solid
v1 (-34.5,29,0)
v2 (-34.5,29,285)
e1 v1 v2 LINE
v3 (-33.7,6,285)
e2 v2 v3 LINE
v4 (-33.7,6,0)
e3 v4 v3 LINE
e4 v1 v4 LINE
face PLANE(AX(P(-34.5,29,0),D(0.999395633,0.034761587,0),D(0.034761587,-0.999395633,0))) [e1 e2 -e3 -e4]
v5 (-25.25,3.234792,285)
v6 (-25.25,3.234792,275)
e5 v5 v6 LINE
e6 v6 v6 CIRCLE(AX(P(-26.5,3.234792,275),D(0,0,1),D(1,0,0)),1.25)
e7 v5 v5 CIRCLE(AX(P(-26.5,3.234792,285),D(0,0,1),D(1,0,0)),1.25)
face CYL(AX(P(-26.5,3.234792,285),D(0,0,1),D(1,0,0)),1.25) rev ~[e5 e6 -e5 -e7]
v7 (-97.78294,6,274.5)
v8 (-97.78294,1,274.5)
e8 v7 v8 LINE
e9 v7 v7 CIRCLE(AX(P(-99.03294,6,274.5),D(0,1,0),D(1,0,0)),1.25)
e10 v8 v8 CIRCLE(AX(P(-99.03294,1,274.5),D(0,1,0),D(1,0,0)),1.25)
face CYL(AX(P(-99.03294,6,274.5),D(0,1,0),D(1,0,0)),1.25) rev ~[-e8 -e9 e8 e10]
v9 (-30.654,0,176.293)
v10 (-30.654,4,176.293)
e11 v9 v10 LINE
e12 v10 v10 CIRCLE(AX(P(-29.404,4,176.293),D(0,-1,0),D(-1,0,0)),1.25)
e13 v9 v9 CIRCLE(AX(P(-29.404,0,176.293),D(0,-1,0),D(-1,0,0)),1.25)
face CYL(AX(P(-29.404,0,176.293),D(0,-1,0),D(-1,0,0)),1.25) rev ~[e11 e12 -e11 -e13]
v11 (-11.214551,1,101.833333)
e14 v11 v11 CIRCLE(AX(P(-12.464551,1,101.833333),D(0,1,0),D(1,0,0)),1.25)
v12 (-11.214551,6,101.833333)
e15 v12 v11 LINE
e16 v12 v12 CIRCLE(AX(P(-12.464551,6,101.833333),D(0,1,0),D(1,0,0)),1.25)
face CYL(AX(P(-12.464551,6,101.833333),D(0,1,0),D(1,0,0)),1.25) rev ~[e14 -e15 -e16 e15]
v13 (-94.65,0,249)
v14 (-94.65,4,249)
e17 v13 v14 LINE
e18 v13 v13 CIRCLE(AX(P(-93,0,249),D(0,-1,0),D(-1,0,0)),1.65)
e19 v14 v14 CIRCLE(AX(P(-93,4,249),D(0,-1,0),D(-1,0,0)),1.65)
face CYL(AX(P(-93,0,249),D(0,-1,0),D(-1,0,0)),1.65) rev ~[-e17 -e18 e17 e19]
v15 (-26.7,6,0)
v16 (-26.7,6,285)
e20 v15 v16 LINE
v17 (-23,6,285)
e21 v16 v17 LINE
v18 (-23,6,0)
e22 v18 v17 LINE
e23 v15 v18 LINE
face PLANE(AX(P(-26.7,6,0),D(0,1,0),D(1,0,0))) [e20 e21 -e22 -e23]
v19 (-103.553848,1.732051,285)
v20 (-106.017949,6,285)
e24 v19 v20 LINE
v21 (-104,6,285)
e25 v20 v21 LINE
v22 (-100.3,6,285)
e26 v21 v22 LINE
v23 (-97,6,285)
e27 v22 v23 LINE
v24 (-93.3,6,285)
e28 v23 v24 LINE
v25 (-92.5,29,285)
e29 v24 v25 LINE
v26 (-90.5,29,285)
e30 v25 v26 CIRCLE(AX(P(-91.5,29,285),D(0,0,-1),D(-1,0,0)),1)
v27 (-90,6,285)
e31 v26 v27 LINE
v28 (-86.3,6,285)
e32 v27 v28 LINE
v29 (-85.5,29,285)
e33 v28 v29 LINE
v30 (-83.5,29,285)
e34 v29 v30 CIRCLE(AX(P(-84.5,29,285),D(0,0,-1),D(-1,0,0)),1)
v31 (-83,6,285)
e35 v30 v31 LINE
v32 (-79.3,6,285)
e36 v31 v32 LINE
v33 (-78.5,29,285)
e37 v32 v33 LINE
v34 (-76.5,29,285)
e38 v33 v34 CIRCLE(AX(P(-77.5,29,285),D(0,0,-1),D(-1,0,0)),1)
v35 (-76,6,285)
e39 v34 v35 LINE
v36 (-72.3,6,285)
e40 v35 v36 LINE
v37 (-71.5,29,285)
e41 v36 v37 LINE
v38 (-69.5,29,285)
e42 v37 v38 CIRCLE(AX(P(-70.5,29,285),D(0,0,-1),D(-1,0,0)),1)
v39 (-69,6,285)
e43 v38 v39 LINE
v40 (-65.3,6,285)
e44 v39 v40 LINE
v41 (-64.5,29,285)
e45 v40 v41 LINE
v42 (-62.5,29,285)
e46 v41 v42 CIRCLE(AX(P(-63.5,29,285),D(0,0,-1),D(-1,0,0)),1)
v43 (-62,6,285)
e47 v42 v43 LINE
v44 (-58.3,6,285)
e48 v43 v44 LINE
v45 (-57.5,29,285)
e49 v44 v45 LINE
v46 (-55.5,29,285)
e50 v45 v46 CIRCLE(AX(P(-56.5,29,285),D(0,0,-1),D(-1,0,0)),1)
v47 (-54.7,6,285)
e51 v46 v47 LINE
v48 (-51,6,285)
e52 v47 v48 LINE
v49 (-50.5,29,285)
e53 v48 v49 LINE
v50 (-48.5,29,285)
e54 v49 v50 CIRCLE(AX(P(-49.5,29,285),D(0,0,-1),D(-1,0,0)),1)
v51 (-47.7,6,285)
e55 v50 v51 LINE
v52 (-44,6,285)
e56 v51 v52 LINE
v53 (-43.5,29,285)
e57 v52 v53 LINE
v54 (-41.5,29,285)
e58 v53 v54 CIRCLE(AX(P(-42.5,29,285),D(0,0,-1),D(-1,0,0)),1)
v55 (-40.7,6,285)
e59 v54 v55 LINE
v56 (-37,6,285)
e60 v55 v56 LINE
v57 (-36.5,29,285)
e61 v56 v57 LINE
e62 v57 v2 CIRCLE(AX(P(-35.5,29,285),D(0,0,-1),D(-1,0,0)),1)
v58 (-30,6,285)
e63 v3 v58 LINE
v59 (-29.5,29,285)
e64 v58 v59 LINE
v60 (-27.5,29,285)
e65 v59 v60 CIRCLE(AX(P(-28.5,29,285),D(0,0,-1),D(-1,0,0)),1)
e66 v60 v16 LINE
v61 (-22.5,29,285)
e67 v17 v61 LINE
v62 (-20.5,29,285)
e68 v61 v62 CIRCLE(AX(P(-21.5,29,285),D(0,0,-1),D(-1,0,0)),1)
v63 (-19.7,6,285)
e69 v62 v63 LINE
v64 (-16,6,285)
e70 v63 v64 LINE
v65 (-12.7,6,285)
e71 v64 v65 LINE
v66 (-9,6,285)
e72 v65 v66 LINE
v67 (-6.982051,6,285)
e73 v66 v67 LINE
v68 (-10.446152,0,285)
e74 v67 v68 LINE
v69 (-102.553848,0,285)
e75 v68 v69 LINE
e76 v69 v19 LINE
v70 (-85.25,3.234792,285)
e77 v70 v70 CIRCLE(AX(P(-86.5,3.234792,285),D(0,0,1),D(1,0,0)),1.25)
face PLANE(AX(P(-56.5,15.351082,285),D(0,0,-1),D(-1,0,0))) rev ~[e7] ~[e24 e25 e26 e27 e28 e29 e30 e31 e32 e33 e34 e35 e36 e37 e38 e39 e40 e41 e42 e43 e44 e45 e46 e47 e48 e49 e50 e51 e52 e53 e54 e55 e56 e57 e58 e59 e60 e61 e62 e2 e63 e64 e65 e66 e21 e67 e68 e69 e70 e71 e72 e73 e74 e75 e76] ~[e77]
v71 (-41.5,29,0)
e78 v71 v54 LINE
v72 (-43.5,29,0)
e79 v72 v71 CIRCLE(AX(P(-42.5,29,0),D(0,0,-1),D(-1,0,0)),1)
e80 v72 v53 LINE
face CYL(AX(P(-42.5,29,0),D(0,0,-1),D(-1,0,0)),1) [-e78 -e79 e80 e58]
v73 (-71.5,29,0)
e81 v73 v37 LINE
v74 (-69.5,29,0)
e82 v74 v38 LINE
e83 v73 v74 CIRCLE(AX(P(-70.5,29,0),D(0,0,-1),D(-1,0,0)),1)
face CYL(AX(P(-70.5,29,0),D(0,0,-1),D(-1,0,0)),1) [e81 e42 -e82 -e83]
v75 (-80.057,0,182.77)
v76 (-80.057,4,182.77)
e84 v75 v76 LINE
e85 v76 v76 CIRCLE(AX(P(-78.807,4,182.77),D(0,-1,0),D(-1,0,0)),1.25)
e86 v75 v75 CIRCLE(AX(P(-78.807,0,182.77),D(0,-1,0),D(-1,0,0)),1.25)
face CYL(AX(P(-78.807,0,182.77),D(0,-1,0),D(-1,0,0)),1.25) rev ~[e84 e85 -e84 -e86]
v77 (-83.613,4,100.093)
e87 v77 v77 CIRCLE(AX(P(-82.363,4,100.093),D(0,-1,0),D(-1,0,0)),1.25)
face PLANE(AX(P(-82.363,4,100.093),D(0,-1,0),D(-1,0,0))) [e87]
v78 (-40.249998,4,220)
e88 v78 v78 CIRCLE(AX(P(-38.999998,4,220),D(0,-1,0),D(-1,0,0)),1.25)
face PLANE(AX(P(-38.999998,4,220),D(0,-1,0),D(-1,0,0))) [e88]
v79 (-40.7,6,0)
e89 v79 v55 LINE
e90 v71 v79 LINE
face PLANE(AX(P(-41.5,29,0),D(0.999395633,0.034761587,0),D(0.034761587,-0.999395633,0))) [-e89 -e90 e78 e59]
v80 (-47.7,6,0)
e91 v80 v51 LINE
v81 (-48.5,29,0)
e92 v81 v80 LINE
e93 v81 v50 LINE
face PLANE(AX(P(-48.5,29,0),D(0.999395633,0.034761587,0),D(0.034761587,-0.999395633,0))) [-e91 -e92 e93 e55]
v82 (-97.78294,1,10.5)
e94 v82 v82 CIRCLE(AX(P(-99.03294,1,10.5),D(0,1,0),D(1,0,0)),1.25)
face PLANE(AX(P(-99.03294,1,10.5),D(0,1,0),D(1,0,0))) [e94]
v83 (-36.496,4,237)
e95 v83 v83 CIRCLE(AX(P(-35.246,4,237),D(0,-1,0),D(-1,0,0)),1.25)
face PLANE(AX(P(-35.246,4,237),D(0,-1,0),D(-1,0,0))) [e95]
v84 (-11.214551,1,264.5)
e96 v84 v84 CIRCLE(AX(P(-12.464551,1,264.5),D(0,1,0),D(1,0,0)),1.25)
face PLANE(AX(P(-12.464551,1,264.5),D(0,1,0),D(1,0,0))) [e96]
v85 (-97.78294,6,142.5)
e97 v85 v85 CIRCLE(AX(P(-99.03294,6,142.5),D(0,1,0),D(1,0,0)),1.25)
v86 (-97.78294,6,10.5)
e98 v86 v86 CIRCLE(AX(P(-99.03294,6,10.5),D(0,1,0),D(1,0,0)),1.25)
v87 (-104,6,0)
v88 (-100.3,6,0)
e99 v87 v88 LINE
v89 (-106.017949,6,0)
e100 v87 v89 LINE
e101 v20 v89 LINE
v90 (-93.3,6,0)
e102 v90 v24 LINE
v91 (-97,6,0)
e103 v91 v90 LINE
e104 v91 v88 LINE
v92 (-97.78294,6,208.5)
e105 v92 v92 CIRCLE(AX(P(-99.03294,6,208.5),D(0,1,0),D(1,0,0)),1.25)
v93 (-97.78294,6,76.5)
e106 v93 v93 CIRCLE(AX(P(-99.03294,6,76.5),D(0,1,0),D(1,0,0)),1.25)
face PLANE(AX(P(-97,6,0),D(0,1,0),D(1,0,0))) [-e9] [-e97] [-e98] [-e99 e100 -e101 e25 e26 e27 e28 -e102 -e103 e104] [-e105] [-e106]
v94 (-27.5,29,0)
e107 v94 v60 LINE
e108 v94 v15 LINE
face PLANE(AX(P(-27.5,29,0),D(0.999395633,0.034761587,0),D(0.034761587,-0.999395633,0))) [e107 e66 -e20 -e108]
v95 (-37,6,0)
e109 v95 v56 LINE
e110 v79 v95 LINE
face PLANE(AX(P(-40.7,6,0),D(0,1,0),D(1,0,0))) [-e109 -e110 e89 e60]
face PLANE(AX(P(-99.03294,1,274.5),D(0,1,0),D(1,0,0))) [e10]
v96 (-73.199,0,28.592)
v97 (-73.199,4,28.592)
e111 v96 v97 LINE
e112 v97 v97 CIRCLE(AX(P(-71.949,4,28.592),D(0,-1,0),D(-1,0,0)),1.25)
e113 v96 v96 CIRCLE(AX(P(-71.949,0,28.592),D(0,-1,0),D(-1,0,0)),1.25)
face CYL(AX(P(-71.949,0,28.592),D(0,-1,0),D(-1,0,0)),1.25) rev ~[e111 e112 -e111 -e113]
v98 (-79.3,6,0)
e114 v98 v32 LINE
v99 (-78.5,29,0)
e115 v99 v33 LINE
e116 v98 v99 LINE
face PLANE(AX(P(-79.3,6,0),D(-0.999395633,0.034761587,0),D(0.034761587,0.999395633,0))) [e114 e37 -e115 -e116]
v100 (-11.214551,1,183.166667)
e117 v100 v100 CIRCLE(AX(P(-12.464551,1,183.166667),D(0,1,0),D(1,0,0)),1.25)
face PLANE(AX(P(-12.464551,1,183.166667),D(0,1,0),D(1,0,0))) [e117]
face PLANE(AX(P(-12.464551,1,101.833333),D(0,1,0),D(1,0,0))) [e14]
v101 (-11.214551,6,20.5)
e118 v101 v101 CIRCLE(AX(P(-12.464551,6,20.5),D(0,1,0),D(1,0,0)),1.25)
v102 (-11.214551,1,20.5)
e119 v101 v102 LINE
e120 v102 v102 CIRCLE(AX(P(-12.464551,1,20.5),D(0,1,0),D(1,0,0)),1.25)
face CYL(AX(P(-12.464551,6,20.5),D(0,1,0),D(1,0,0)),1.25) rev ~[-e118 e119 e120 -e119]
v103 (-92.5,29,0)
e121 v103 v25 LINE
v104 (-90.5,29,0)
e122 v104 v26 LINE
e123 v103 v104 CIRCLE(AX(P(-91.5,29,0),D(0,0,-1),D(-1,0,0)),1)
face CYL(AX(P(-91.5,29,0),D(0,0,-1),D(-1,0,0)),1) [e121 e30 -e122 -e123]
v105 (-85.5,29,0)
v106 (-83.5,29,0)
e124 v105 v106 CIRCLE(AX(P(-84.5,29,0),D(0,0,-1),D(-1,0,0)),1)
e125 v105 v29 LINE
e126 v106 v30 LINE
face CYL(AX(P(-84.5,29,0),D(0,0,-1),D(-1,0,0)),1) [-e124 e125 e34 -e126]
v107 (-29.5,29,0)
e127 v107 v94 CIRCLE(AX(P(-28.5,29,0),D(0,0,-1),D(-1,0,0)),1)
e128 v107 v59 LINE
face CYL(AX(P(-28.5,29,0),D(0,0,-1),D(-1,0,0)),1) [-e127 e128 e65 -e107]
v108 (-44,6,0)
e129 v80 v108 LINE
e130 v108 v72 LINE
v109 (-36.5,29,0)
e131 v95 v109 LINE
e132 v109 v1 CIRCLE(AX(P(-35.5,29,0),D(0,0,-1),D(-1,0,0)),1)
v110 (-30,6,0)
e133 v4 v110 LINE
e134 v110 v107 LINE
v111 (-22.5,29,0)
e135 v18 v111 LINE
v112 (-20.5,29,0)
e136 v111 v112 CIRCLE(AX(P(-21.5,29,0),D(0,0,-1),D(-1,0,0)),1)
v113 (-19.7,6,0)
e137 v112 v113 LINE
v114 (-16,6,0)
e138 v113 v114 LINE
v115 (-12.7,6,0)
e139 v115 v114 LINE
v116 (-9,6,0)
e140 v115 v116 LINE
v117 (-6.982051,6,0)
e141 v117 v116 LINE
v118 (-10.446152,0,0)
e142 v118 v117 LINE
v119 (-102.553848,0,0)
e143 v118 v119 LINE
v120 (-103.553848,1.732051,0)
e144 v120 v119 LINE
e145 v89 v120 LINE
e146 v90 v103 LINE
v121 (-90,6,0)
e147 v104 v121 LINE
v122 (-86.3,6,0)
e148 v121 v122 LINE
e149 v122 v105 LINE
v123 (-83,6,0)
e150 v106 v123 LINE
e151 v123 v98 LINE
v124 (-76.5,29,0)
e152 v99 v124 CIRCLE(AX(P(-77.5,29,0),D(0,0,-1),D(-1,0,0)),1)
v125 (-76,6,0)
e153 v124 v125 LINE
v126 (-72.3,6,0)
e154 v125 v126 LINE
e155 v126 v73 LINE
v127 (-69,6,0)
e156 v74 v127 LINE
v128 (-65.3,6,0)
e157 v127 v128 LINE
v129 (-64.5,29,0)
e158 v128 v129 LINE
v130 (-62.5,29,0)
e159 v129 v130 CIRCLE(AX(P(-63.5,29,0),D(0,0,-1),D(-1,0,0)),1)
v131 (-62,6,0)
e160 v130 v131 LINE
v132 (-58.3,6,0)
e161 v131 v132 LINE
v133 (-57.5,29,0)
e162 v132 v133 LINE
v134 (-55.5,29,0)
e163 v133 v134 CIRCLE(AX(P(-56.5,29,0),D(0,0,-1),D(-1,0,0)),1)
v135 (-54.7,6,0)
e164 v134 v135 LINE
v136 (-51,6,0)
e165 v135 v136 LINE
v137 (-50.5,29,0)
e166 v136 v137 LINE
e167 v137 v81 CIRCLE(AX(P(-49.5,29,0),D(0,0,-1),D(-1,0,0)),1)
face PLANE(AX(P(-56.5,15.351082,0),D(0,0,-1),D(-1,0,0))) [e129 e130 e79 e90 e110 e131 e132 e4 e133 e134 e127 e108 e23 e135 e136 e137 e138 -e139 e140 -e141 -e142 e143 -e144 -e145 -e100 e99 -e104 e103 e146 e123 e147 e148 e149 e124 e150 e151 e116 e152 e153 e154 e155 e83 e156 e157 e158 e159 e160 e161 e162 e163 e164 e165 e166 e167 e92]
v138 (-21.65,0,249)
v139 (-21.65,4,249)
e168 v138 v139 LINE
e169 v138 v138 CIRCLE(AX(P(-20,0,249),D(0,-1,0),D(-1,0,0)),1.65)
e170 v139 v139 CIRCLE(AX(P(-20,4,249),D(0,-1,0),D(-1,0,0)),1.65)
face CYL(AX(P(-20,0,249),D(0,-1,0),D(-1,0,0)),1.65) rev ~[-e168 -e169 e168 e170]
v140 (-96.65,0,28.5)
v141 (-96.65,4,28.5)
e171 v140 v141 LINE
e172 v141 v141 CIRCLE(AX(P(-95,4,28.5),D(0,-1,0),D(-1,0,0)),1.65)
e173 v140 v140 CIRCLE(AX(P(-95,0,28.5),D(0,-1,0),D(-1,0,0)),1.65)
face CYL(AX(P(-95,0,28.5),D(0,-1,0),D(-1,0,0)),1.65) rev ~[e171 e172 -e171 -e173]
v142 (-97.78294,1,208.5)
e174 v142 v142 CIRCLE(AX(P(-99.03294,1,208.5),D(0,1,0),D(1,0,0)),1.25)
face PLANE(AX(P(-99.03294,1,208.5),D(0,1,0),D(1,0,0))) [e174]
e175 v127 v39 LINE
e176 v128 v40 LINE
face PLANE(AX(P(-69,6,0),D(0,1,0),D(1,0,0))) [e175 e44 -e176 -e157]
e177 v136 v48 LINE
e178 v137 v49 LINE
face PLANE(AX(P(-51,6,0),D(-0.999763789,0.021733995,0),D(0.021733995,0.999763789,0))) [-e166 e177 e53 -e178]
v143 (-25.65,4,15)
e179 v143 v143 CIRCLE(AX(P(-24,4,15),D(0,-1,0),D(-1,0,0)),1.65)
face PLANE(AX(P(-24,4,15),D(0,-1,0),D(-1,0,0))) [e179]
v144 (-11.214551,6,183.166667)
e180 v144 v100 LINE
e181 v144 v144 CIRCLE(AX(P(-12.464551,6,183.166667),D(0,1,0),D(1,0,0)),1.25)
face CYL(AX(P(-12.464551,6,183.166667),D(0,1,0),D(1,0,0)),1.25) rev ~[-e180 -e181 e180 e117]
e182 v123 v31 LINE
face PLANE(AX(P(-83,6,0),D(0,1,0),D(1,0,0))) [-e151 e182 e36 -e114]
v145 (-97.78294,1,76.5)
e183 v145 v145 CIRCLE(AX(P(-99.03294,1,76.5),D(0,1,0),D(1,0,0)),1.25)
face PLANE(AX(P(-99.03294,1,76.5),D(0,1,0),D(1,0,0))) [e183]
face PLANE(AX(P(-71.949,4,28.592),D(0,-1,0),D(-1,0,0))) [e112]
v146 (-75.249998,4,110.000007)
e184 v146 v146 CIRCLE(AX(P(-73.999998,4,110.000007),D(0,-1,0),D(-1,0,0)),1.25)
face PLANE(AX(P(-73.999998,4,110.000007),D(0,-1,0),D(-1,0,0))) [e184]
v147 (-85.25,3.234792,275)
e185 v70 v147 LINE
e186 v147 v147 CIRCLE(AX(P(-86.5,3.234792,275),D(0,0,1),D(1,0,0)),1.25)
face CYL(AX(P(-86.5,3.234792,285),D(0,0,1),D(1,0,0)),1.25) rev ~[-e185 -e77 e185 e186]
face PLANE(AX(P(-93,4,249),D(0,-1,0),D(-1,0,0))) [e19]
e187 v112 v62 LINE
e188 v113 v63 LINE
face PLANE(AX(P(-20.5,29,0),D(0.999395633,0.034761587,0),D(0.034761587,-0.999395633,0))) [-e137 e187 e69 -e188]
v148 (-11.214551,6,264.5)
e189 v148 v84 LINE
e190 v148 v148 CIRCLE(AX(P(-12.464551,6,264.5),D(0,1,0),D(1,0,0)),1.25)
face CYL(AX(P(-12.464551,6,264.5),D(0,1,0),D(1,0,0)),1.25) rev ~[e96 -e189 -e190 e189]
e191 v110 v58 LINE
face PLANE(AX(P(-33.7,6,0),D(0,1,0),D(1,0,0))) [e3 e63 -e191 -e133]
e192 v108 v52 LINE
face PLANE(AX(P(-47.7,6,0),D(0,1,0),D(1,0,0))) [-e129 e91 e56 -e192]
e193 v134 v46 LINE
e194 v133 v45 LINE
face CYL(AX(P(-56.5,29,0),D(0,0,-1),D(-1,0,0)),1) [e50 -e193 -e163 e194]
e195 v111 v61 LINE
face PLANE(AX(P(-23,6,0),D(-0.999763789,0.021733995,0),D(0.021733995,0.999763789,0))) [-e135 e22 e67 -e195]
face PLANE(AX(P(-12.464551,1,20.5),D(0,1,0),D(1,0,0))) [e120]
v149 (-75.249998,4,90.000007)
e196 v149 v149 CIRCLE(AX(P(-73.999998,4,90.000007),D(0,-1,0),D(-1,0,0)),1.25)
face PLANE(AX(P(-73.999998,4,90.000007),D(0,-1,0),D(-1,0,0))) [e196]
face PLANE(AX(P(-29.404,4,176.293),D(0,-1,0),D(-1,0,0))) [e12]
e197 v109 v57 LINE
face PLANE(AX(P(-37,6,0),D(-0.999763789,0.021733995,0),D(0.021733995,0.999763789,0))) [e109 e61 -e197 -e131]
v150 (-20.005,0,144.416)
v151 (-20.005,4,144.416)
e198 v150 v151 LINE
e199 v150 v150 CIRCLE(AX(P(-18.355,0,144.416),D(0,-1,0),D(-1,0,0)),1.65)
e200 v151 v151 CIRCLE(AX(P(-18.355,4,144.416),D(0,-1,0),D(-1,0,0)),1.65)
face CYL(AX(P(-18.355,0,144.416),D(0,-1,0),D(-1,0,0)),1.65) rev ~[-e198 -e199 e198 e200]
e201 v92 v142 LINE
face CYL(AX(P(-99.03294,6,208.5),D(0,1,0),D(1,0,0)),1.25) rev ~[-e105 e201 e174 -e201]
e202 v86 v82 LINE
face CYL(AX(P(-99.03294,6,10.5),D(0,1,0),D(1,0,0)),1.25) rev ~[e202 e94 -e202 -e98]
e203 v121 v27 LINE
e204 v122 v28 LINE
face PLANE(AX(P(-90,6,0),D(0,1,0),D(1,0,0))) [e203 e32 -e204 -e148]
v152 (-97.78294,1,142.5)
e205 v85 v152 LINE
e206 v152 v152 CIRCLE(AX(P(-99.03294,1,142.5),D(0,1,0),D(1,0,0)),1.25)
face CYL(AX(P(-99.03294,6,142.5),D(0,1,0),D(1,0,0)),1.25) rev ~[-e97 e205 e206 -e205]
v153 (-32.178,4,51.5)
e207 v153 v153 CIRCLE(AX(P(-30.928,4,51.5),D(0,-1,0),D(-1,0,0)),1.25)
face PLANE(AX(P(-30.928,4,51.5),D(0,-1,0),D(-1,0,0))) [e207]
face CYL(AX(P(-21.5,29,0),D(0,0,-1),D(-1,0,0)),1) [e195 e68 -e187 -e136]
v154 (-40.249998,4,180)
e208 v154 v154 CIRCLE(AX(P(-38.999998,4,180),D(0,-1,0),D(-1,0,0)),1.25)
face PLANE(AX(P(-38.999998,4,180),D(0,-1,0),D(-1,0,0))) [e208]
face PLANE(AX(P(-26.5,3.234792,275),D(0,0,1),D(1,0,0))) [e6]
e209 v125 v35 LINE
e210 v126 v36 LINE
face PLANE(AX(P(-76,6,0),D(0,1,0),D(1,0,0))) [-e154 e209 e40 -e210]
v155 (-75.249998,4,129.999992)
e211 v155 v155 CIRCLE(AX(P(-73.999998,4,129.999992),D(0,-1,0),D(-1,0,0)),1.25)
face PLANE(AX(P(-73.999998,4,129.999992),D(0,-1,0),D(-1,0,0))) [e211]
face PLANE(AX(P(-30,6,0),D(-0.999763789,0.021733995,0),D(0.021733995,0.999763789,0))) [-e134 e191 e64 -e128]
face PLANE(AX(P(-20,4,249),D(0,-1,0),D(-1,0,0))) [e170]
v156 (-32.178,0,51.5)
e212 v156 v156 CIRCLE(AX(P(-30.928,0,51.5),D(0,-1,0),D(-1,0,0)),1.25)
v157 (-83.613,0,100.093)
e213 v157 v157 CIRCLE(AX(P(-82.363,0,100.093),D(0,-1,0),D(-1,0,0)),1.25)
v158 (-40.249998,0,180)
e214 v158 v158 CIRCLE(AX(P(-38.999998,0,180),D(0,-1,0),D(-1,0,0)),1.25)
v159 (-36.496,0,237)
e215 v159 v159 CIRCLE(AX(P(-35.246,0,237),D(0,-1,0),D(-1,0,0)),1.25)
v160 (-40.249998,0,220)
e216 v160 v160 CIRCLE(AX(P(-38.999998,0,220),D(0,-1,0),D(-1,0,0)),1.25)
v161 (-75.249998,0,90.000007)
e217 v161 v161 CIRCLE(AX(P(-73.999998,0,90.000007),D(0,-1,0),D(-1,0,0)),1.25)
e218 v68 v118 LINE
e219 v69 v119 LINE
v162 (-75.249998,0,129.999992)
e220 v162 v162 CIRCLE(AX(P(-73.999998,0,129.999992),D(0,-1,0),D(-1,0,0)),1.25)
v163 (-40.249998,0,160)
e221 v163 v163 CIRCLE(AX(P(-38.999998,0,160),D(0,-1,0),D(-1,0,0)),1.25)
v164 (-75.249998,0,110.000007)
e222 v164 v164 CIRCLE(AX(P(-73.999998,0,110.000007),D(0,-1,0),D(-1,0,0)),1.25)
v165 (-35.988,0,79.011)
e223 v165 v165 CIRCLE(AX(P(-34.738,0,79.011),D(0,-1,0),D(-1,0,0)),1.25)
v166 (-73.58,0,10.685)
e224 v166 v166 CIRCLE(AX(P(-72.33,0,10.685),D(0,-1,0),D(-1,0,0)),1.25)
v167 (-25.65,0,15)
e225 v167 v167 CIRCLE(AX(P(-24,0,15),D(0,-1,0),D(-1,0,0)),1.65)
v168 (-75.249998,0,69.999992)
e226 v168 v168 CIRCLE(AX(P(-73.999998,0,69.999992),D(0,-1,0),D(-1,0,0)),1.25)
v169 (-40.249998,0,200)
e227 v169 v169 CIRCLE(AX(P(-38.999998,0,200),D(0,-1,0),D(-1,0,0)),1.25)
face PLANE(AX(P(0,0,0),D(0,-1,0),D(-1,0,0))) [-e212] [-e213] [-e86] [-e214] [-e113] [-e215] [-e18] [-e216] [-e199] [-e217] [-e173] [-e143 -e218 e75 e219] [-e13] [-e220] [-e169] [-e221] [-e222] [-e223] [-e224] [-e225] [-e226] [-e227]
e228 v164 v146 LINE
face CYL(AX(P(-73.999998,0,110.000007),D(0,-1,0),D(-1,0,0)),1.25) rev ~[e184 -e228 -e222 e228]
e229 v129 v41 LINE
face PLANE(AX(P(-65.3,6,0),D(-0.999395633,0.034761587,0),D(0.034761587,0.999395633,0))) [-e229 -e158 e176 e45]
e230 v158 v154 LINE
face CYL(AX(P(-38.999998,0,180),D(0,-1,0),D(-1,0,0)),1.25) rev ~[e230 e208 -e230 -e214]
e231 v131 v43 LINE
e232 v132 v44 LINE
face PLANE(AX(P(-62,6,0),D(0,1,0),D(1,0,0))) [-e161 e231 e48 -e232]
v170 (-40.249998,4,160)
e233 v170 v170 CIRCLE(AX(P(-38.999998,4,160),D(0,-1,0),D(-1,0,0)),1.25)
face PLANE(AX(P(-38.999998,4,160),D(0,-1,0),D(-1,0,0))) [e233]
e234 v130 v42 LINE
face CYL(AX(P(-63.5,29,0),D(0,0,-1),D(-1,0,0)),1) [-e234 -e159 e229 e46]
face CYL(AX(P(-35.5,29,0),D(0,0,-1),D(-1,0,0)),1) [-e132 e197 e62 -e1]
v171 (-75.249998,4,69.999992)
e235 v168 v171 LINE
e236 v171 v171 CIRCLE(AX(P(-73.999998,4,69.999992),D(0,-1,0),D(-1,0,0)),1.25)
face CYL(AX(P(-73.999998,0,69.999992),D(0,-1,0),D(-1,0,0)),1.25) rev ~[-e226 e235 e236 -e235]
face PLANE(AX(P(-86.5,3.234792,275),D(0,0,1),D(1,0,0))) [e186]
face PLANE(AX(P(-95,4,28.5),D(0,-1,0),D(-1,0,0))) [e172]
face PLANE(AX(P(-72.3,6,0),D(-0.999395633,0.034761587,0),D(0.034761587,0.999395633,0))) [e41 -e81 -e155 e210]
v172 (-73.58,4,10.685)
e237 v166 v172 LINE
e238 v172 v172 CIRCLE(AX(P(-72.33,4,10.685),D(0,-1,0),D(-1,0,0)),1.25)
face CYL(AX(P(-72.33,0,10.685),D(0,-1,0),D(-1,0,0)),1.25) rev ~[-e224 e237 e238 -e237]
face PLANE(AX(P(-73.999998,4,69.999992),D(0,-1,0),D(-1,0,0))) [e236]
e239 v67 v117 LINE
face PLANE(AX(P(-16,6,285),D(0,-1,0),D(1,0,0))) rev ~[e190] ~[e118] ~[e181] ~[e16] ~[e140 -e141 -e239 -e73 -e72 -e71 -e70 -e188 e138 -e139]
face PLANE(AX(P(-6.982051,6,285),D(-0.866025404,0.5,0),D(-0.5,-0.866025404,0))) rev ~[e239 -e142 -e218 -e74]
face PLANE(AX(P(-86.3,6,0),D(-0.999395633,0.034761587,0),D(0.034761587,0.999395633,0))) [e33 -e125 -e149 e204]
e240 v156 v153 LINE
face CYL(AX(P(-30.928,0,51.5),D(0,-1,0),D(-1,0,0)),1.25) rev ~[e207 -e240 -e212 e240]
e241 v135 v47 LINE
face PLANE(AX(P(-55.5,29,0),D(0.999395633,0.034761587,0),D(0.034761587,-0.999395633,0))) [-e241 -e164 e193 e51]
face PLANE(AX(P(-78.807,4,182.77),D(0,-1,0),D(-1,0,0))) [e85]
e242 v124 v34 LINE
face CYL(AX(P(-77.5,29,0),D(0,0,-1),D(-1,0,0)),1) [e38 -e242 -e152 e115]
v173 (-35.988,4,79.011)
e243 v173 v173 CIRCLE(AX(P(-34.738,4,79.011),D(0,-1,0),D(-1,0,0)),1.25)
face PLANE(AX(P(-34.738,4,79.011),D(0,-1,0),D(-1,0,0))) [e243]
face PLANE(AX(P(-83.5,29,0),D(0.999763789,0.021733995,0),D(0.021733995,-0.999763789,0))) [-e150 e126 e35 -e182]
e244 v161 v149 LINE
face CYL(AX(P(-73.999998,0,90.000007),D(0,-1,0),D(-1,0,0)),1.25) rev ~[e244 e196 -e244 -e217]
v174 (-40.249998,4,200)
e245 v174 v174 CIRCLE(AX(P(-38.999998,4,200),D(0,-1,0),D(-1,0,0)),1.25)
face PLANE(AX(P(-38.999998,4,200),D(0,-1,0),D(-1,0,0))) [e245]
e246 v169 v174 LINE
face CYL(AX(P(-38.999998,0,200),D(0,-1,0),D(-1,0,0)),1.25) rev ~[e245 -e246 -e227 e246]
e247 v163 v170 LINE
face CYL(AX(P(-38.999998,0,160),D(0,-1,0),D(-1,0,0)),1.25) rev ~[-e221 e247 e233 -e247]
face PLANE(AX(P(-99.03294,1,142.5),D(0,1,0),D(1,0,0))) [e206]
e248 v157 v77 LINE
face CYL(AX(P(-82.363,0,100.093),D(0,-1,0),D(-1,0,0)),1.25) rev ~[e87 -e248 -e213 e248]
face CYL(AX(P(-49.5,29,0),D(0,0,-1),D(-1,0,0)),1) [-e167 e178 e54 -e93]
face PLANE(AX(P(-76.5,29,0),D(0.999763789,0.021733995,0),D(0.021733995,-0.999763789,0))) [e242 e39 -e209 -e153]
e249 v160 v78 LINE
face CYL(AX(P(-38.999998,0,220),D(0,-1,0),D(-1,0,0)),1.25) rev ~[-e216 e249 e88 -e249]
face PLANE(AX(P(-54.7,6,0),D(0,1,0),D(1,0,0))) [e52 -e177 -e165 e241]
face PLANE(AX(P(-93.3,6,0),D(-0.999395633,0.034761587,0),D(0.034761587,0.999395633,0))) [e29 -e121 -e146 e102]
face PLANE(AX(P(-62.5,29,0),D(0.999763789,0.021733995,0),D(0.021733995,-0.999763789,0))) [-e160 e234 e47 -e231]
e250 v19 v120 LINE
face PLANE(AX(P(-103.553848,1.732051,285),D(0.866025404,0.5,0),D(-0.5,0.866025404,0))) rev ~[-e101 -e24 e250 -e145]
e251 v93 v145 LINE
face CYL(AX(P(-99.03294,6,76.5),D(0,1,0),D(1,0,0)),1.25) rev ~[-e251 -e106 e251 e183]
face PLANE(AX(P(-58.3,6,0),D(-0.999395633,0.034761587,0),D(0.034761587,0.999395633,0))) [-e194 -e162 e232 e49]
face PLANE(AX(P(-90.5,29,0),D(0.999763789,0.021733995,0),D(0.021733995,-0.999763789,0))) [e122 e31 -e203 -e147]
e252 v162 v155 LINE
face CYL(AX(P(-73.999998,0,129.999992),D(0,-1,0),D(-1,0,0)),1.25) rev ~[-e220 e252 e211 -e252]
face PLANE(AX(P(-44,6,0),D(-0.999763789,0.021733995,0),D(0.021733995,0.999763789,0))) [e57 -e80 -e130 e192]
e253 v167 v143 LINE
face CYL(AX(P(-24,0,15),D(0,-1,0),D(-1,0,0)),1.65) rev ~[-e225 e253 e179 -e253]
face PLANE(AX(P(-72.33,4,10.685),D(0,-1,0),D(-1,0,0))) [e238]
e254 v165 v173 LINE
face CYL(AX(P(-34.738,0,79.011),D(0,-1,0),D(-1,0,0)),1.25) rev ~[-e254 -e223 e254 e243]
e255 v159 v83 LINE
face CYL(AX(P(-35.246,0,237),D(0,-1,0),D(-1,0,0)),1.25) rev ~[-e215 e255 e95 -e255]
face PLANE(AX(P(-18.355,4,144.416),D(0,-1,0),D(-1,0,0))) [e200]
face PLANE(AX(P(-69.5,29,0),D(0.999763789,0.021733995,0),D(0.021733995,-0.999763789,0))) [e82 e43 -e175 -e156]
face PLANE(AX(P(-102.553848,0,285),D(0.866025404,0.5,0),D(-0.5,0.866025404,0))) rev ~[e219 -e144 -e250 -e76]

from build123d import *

# Parameters (mm, degrees)
RESSALTO_EXTRUS_O1_DEPTH   = 285
CORTE_EXTRUS_O1_DEPTH      = 1
CORTE_EXTRUS_O1_DEPTH_BACK = 286
ESBO_O3_W                  = 25.376323639
ESBO_O3_H                  = 34.077714497
ESBO_O3_W_2                = 22.64317054
ESBO_O3_H_2                = 30.700240827
CORTE_EXTRUS_O2_DEPTH      = 1
CORTE_EXTRUS_O2_DEPTH_BACK = 286
ESBO_O4_R                  = 1.25
CORTE_EXTRUS_O3_DEPTH      = 10
ESBO_O5_R                  = 1.25
CORTE_EXTRUS_O4_DEPTH      = 5
ESBO_O7_R                  = 1.65
ESBO_O7_R_2                = 1.25
CORTE_EXTRUS_O5_DEPTH      = 4


with BuildPart() as part:
    # Esbo_o1 → Ressalto-extrus_o1 (new body)
    with BuildSketch(Plane.XY):
        with BuildLine():
            Line((0, 0), (-113, 0))
            Line((-113, 0), (-113, 30))
            Line((-113, 30), (-111, 30))
            Line((-111, 30), (-111, 6))
            Line((-111, 6), (-107.3, 6))
            Line((-107.3, 6), (-106.5, 29))
            ThreePointArc((-106.5, 29), (-105.5, 30), (-104.5, 29))
            Line((-104.5, 29), (-104, 6))
            Line((-104, 6), (-100.3, 6))
            Line((-100.3, 6), (-99.5, 29))
            ThreePointArc((-99.5, 29), (-98.5, 30), (-97.5, 29))
            Line((-97.5, 29), (-97, 6))
            Line((-97, 6), (-93.3, 6))
            Line((-93.3, 6), (-92.5, 29))
            ThreePointArc((-92.5, 29), (-91.5, 30), (-90.5, 29))
            Line((-90.5, 29), (-90, 6))
            Line((-90, 6), (-86.3, 6))
            Line((-86.3, 6), (-85.5, 29))
            ThreePointArc((-85.5, 29), (-84.5, 30), (-83.5, 29))
            Line((-83.5, 29), (-83, 6))
            Line((-83, 6), (-79.3, 6))
            Line((-79.3, 6), (-78.5, 29))
            ThreePointArc((-78.5, 29), (-77.5, 30), (-76.5, 29))
            Line((-76.5, 29), (-76, 6))
            Line((-76, 6), (-72.3, 6))
            Line((-72.3, 6), (-71.5, 29))
            ThreePointArc((-71.5, 29), (-70.5, 30), (-69.5, 29))
            Line((-69.5, 29), (-69, 6))
            Line((-69, 6), (-65.3, 6))
            Line((-65.3, 6), (-64.5, 29))
            ThreePointArc((-64.5, 29), (-63.5, 30), (-62.5, 29))
            Line((-62.5, 29), (-62, 6))
            Line((-62, 6), (-58.3, 6))
            Line((-58.3, 6), (-57.5, 29))
            ThreePointArc((-57.5, 29), (-56.5, 30), (-55.5, 29))
            Line((-55.5, 29), (-54.7, 6))
            Line((-54.7, 6), (-51, 6))
            Line((-51, 6), (-50.5, 29))
            ThreePointArc((-50.5, 29), (-49.5, 30), (-48.5, 29))
            Line((-48.5, 29), (-47.7, 6))
            Line((-47.7, 6), (-44, 6))
            Line((-44, 6), (-43.5, 29))
            ThreePointArc((-43.5, 29), (-42.5, 30), (-41.5, 29))
            Line((-41.5, 29), (-40.7, 6))
            Line((-40.7, 6), (-37, 6))
            Line((-37, 6), (-36.5, 29))
            ThreePointArc((-36.5, 29), (-35.5, 30), (-34.5, 29))
            Line((-34.5, 29), (-33.7, 6))
            Line((-33.7, 6), (-30, 6))
            Line((-30, 6), (-29.5, 29))
            ThreePointArc((-29.5, 29), (-28.5, 30), (-27.5, 29))
            Line((-27.5, 29), (-26.7, 6))
            Line((-26.7, 6), (-23, 6))
            Line((-23, 6), (-22.5, 29))
            ThreePointArc((-22.5, 29), (-21.5, 30), (-20.5, 29))
            Line((-20.5, 29), (-19.7, 6))
            Line((-19.7, 6), (-16, 6))
            Line((-16, 6), (-15.5, 29))
            ThreePointArc((-15.5, 29), (-14.5, 30), (-13.5, 29))
            Line((-13.5, 29), (-12.7, 6))
            Line((-12.7, 6), (-9, 6))
            Line((-9, 6), (-8.5, 29))
            ThreePointArc((-8.5, 29), (-7.5, 30), (-6.5, 29))
            Line((-6.5, 29), (-5.7, 6))
            Line((-5.7, 6), (-2, 6))
            Line((-2, 6), (-2, 30))
            Line((-2, 30), (0, 30))
            Line((0, 30), (0, 0))
        make_face()
    extrude(amount=RESSALTO_EXTRUS_O1_DEPTH)

    # Esbo_o2 → Corte-extrus_o1 (cut, two sides)
    with BuildSketch(Plane.XY.offset(285)) as corte_extrus_o1_sk:
        Polygon((-10.446152423, 0), (0, 0), (0, 41.820832928), (-6.982050808, 41.820832928), (-6.982050808, 6), align=None)
        Polygon((-102.553847577, 0), (-103.553847577, 1.732050808), (-106.017949192, 6), (-106.017949192, 31.540588642), (-125.556799279, 31.540588642), (-125.556799279, -3.436706701), (-107.964469124, -3.436706701), align=None)
    extrude(amount=CORTE_EXTRUS_O1_DEPTH, mode=Mode.SUBTRACT)
    extrude(corte_extrus_o1_sk.sketch, amount=-CORTE_EXTRUS_O1_DEPTH_BACK, mode=Mode.SUBTRACT)

    # Esbo_o3 → Corte-extrus_o2 (cut, two sides)
    with BuildSketch(Plane.XY.offset(285)) as corte_extrus_o2_sk:
        with Locations((-109.68816182, 23.038857249)):
            Rectangle(ESBO_O3_W, ESBO_O3_H)
        with Locations((-4.67841473, 21.350120414)):
            Rectangle(ESBO_O3_W_2, ESBO_O3_H_2)
    extrude(amount=CORTE_EXTRUS_O2_DEPTH, mode=Mode.SUBTRACT)
    extrude(corte_extrus_o2_sk.sketch, amount=-CORTE_EXTRUS_O2_DEPTH_BACK, mode=Mode.SUBTRACT)

    # Esbo_o4 → Corte-extrus_o3 (cut)
    with BuildSketch(Plane.XY.offset(285)):
        with Locations((-26.5, 3.234792224)):
            Circle(ESBO_O4_R)
        with Locations((-86.5, 3.234792224)):
            Circle(ESBO_O4_R)
    extrude(amount=-CORTE_EXTRUS_O3_DEPTH, mode=Mode.SUBTRACT)

    # Esbo_o5 → Corte-extrus_o4 (cut)
    with BuildSketch(Plane(origin=(0, 6, 0), x_dir=(1, 0, 0), z_dir=(0, 1, 0))):
        with Locations((-99.03293992, -274.5)):
            Circle(ESBO_O5_R)
        with Locations((-99.03293992, -208.5)):
            Circle(ESBO_O5_R)
        with Locations((-99.03293992, -142.5)):
            Circle(ESBO_O5_R)
        with Locations((-99.03293992, -76.5)):
            Circle(ESBO_O5_R)
        with Locations((-99.03293992, -10.5)):
            Circle(ESBO_O5_R)
        with Locations((-12.464550988, -20.5)):
            Circle(ESBO_O5_R)
        with Locations((-12.464550988, -101.833333333)):
            Circle(ESBO_O5_R)
        with Locations((-12.464550988, -183.166666667)):
            Circle(ESBO_O5_R)
        with Locations((-12.464550988, -264.5)):
            Circle(ESBO_O5_R)
    extrude(amount=-CORTE_EXTRUS_O4_DEPTH, mode=Mode.SUBTRACT)

    # Esbo_o7 → Corte-extrus_o5 (cut)
    with BuildSketch(Plane(origin=(0, 0, 0), x_dir=(-1, 0, 0), z_dir=(0, -1, 0))):
        with Locations((95, -28.5)):
            Circle(ESBO_O7_R)
        with Locations((71.949, -28.592)):
            Circle(ESBO_O7_R_2)
        with Locations((72.33, -10.685)):
            Circle(ESBO_O7_R_2)
        with Locations((30.928, -51.5)):
            Circle(ESBO_O7_R_2)
        with Locations((24, -15)):
            Circle(ESBO_O7_R)
        with Locations((34.738, -79.011)):
            Circle(ESBO_O7_R_2)
        with Locations((18.355, -144.416)):
            Circle(ESBO_O7_R)
        with Locations((20, -249)):
            Circle(ESBO_O7_R)
        with Locations((35.246, -237)):
            Circle(ESBO_O7_R_2)
        with Locations((93, -249)):
            Circle(ESBO_O7_R)
        with Locations((78.807, -182.77)):
            Circle(ESBO_O7_R_2)
        with Locations((82.363, -100.093)):
            Circle(ESBO_O7_R_2)
        with Locations((29.404, -176.293)):
            Circle(ESBO_O7_R_2)
        with Locations((38.999998474, -219.999999573)):
            Circle(ESBO_O7_R_2)
        with Locations((38.999998474, -199.999999573)):
            Circle(ESBO_O7_R_2)
        with Locations((38.999998474, -179.999999573)):
            Circle(ESBO_O7_R_2)
        with Locations((38.999998474, -159.999999573)):
            Circle(ESBO_O7_R_2)
        with Locations((73.999998474, -129.999991943)):
            Circle(ESBO_O7_R_2)
        with Locations((73.999998474, -110.000007202)):
            Circle(ESBO_O7_R_2)
        with Locations((73.999998474, -90.000007202)):
            Circle(ESBO_O7_R_2)
        with Locations((73.999998474, -69.999991943)):
            Circle(ESBO_O7_R_2)
    extrude(amount=-CORTE_EXTRUS_O5_DEPTH, mode=Mode.SUBTRACT)


solid = part.part
